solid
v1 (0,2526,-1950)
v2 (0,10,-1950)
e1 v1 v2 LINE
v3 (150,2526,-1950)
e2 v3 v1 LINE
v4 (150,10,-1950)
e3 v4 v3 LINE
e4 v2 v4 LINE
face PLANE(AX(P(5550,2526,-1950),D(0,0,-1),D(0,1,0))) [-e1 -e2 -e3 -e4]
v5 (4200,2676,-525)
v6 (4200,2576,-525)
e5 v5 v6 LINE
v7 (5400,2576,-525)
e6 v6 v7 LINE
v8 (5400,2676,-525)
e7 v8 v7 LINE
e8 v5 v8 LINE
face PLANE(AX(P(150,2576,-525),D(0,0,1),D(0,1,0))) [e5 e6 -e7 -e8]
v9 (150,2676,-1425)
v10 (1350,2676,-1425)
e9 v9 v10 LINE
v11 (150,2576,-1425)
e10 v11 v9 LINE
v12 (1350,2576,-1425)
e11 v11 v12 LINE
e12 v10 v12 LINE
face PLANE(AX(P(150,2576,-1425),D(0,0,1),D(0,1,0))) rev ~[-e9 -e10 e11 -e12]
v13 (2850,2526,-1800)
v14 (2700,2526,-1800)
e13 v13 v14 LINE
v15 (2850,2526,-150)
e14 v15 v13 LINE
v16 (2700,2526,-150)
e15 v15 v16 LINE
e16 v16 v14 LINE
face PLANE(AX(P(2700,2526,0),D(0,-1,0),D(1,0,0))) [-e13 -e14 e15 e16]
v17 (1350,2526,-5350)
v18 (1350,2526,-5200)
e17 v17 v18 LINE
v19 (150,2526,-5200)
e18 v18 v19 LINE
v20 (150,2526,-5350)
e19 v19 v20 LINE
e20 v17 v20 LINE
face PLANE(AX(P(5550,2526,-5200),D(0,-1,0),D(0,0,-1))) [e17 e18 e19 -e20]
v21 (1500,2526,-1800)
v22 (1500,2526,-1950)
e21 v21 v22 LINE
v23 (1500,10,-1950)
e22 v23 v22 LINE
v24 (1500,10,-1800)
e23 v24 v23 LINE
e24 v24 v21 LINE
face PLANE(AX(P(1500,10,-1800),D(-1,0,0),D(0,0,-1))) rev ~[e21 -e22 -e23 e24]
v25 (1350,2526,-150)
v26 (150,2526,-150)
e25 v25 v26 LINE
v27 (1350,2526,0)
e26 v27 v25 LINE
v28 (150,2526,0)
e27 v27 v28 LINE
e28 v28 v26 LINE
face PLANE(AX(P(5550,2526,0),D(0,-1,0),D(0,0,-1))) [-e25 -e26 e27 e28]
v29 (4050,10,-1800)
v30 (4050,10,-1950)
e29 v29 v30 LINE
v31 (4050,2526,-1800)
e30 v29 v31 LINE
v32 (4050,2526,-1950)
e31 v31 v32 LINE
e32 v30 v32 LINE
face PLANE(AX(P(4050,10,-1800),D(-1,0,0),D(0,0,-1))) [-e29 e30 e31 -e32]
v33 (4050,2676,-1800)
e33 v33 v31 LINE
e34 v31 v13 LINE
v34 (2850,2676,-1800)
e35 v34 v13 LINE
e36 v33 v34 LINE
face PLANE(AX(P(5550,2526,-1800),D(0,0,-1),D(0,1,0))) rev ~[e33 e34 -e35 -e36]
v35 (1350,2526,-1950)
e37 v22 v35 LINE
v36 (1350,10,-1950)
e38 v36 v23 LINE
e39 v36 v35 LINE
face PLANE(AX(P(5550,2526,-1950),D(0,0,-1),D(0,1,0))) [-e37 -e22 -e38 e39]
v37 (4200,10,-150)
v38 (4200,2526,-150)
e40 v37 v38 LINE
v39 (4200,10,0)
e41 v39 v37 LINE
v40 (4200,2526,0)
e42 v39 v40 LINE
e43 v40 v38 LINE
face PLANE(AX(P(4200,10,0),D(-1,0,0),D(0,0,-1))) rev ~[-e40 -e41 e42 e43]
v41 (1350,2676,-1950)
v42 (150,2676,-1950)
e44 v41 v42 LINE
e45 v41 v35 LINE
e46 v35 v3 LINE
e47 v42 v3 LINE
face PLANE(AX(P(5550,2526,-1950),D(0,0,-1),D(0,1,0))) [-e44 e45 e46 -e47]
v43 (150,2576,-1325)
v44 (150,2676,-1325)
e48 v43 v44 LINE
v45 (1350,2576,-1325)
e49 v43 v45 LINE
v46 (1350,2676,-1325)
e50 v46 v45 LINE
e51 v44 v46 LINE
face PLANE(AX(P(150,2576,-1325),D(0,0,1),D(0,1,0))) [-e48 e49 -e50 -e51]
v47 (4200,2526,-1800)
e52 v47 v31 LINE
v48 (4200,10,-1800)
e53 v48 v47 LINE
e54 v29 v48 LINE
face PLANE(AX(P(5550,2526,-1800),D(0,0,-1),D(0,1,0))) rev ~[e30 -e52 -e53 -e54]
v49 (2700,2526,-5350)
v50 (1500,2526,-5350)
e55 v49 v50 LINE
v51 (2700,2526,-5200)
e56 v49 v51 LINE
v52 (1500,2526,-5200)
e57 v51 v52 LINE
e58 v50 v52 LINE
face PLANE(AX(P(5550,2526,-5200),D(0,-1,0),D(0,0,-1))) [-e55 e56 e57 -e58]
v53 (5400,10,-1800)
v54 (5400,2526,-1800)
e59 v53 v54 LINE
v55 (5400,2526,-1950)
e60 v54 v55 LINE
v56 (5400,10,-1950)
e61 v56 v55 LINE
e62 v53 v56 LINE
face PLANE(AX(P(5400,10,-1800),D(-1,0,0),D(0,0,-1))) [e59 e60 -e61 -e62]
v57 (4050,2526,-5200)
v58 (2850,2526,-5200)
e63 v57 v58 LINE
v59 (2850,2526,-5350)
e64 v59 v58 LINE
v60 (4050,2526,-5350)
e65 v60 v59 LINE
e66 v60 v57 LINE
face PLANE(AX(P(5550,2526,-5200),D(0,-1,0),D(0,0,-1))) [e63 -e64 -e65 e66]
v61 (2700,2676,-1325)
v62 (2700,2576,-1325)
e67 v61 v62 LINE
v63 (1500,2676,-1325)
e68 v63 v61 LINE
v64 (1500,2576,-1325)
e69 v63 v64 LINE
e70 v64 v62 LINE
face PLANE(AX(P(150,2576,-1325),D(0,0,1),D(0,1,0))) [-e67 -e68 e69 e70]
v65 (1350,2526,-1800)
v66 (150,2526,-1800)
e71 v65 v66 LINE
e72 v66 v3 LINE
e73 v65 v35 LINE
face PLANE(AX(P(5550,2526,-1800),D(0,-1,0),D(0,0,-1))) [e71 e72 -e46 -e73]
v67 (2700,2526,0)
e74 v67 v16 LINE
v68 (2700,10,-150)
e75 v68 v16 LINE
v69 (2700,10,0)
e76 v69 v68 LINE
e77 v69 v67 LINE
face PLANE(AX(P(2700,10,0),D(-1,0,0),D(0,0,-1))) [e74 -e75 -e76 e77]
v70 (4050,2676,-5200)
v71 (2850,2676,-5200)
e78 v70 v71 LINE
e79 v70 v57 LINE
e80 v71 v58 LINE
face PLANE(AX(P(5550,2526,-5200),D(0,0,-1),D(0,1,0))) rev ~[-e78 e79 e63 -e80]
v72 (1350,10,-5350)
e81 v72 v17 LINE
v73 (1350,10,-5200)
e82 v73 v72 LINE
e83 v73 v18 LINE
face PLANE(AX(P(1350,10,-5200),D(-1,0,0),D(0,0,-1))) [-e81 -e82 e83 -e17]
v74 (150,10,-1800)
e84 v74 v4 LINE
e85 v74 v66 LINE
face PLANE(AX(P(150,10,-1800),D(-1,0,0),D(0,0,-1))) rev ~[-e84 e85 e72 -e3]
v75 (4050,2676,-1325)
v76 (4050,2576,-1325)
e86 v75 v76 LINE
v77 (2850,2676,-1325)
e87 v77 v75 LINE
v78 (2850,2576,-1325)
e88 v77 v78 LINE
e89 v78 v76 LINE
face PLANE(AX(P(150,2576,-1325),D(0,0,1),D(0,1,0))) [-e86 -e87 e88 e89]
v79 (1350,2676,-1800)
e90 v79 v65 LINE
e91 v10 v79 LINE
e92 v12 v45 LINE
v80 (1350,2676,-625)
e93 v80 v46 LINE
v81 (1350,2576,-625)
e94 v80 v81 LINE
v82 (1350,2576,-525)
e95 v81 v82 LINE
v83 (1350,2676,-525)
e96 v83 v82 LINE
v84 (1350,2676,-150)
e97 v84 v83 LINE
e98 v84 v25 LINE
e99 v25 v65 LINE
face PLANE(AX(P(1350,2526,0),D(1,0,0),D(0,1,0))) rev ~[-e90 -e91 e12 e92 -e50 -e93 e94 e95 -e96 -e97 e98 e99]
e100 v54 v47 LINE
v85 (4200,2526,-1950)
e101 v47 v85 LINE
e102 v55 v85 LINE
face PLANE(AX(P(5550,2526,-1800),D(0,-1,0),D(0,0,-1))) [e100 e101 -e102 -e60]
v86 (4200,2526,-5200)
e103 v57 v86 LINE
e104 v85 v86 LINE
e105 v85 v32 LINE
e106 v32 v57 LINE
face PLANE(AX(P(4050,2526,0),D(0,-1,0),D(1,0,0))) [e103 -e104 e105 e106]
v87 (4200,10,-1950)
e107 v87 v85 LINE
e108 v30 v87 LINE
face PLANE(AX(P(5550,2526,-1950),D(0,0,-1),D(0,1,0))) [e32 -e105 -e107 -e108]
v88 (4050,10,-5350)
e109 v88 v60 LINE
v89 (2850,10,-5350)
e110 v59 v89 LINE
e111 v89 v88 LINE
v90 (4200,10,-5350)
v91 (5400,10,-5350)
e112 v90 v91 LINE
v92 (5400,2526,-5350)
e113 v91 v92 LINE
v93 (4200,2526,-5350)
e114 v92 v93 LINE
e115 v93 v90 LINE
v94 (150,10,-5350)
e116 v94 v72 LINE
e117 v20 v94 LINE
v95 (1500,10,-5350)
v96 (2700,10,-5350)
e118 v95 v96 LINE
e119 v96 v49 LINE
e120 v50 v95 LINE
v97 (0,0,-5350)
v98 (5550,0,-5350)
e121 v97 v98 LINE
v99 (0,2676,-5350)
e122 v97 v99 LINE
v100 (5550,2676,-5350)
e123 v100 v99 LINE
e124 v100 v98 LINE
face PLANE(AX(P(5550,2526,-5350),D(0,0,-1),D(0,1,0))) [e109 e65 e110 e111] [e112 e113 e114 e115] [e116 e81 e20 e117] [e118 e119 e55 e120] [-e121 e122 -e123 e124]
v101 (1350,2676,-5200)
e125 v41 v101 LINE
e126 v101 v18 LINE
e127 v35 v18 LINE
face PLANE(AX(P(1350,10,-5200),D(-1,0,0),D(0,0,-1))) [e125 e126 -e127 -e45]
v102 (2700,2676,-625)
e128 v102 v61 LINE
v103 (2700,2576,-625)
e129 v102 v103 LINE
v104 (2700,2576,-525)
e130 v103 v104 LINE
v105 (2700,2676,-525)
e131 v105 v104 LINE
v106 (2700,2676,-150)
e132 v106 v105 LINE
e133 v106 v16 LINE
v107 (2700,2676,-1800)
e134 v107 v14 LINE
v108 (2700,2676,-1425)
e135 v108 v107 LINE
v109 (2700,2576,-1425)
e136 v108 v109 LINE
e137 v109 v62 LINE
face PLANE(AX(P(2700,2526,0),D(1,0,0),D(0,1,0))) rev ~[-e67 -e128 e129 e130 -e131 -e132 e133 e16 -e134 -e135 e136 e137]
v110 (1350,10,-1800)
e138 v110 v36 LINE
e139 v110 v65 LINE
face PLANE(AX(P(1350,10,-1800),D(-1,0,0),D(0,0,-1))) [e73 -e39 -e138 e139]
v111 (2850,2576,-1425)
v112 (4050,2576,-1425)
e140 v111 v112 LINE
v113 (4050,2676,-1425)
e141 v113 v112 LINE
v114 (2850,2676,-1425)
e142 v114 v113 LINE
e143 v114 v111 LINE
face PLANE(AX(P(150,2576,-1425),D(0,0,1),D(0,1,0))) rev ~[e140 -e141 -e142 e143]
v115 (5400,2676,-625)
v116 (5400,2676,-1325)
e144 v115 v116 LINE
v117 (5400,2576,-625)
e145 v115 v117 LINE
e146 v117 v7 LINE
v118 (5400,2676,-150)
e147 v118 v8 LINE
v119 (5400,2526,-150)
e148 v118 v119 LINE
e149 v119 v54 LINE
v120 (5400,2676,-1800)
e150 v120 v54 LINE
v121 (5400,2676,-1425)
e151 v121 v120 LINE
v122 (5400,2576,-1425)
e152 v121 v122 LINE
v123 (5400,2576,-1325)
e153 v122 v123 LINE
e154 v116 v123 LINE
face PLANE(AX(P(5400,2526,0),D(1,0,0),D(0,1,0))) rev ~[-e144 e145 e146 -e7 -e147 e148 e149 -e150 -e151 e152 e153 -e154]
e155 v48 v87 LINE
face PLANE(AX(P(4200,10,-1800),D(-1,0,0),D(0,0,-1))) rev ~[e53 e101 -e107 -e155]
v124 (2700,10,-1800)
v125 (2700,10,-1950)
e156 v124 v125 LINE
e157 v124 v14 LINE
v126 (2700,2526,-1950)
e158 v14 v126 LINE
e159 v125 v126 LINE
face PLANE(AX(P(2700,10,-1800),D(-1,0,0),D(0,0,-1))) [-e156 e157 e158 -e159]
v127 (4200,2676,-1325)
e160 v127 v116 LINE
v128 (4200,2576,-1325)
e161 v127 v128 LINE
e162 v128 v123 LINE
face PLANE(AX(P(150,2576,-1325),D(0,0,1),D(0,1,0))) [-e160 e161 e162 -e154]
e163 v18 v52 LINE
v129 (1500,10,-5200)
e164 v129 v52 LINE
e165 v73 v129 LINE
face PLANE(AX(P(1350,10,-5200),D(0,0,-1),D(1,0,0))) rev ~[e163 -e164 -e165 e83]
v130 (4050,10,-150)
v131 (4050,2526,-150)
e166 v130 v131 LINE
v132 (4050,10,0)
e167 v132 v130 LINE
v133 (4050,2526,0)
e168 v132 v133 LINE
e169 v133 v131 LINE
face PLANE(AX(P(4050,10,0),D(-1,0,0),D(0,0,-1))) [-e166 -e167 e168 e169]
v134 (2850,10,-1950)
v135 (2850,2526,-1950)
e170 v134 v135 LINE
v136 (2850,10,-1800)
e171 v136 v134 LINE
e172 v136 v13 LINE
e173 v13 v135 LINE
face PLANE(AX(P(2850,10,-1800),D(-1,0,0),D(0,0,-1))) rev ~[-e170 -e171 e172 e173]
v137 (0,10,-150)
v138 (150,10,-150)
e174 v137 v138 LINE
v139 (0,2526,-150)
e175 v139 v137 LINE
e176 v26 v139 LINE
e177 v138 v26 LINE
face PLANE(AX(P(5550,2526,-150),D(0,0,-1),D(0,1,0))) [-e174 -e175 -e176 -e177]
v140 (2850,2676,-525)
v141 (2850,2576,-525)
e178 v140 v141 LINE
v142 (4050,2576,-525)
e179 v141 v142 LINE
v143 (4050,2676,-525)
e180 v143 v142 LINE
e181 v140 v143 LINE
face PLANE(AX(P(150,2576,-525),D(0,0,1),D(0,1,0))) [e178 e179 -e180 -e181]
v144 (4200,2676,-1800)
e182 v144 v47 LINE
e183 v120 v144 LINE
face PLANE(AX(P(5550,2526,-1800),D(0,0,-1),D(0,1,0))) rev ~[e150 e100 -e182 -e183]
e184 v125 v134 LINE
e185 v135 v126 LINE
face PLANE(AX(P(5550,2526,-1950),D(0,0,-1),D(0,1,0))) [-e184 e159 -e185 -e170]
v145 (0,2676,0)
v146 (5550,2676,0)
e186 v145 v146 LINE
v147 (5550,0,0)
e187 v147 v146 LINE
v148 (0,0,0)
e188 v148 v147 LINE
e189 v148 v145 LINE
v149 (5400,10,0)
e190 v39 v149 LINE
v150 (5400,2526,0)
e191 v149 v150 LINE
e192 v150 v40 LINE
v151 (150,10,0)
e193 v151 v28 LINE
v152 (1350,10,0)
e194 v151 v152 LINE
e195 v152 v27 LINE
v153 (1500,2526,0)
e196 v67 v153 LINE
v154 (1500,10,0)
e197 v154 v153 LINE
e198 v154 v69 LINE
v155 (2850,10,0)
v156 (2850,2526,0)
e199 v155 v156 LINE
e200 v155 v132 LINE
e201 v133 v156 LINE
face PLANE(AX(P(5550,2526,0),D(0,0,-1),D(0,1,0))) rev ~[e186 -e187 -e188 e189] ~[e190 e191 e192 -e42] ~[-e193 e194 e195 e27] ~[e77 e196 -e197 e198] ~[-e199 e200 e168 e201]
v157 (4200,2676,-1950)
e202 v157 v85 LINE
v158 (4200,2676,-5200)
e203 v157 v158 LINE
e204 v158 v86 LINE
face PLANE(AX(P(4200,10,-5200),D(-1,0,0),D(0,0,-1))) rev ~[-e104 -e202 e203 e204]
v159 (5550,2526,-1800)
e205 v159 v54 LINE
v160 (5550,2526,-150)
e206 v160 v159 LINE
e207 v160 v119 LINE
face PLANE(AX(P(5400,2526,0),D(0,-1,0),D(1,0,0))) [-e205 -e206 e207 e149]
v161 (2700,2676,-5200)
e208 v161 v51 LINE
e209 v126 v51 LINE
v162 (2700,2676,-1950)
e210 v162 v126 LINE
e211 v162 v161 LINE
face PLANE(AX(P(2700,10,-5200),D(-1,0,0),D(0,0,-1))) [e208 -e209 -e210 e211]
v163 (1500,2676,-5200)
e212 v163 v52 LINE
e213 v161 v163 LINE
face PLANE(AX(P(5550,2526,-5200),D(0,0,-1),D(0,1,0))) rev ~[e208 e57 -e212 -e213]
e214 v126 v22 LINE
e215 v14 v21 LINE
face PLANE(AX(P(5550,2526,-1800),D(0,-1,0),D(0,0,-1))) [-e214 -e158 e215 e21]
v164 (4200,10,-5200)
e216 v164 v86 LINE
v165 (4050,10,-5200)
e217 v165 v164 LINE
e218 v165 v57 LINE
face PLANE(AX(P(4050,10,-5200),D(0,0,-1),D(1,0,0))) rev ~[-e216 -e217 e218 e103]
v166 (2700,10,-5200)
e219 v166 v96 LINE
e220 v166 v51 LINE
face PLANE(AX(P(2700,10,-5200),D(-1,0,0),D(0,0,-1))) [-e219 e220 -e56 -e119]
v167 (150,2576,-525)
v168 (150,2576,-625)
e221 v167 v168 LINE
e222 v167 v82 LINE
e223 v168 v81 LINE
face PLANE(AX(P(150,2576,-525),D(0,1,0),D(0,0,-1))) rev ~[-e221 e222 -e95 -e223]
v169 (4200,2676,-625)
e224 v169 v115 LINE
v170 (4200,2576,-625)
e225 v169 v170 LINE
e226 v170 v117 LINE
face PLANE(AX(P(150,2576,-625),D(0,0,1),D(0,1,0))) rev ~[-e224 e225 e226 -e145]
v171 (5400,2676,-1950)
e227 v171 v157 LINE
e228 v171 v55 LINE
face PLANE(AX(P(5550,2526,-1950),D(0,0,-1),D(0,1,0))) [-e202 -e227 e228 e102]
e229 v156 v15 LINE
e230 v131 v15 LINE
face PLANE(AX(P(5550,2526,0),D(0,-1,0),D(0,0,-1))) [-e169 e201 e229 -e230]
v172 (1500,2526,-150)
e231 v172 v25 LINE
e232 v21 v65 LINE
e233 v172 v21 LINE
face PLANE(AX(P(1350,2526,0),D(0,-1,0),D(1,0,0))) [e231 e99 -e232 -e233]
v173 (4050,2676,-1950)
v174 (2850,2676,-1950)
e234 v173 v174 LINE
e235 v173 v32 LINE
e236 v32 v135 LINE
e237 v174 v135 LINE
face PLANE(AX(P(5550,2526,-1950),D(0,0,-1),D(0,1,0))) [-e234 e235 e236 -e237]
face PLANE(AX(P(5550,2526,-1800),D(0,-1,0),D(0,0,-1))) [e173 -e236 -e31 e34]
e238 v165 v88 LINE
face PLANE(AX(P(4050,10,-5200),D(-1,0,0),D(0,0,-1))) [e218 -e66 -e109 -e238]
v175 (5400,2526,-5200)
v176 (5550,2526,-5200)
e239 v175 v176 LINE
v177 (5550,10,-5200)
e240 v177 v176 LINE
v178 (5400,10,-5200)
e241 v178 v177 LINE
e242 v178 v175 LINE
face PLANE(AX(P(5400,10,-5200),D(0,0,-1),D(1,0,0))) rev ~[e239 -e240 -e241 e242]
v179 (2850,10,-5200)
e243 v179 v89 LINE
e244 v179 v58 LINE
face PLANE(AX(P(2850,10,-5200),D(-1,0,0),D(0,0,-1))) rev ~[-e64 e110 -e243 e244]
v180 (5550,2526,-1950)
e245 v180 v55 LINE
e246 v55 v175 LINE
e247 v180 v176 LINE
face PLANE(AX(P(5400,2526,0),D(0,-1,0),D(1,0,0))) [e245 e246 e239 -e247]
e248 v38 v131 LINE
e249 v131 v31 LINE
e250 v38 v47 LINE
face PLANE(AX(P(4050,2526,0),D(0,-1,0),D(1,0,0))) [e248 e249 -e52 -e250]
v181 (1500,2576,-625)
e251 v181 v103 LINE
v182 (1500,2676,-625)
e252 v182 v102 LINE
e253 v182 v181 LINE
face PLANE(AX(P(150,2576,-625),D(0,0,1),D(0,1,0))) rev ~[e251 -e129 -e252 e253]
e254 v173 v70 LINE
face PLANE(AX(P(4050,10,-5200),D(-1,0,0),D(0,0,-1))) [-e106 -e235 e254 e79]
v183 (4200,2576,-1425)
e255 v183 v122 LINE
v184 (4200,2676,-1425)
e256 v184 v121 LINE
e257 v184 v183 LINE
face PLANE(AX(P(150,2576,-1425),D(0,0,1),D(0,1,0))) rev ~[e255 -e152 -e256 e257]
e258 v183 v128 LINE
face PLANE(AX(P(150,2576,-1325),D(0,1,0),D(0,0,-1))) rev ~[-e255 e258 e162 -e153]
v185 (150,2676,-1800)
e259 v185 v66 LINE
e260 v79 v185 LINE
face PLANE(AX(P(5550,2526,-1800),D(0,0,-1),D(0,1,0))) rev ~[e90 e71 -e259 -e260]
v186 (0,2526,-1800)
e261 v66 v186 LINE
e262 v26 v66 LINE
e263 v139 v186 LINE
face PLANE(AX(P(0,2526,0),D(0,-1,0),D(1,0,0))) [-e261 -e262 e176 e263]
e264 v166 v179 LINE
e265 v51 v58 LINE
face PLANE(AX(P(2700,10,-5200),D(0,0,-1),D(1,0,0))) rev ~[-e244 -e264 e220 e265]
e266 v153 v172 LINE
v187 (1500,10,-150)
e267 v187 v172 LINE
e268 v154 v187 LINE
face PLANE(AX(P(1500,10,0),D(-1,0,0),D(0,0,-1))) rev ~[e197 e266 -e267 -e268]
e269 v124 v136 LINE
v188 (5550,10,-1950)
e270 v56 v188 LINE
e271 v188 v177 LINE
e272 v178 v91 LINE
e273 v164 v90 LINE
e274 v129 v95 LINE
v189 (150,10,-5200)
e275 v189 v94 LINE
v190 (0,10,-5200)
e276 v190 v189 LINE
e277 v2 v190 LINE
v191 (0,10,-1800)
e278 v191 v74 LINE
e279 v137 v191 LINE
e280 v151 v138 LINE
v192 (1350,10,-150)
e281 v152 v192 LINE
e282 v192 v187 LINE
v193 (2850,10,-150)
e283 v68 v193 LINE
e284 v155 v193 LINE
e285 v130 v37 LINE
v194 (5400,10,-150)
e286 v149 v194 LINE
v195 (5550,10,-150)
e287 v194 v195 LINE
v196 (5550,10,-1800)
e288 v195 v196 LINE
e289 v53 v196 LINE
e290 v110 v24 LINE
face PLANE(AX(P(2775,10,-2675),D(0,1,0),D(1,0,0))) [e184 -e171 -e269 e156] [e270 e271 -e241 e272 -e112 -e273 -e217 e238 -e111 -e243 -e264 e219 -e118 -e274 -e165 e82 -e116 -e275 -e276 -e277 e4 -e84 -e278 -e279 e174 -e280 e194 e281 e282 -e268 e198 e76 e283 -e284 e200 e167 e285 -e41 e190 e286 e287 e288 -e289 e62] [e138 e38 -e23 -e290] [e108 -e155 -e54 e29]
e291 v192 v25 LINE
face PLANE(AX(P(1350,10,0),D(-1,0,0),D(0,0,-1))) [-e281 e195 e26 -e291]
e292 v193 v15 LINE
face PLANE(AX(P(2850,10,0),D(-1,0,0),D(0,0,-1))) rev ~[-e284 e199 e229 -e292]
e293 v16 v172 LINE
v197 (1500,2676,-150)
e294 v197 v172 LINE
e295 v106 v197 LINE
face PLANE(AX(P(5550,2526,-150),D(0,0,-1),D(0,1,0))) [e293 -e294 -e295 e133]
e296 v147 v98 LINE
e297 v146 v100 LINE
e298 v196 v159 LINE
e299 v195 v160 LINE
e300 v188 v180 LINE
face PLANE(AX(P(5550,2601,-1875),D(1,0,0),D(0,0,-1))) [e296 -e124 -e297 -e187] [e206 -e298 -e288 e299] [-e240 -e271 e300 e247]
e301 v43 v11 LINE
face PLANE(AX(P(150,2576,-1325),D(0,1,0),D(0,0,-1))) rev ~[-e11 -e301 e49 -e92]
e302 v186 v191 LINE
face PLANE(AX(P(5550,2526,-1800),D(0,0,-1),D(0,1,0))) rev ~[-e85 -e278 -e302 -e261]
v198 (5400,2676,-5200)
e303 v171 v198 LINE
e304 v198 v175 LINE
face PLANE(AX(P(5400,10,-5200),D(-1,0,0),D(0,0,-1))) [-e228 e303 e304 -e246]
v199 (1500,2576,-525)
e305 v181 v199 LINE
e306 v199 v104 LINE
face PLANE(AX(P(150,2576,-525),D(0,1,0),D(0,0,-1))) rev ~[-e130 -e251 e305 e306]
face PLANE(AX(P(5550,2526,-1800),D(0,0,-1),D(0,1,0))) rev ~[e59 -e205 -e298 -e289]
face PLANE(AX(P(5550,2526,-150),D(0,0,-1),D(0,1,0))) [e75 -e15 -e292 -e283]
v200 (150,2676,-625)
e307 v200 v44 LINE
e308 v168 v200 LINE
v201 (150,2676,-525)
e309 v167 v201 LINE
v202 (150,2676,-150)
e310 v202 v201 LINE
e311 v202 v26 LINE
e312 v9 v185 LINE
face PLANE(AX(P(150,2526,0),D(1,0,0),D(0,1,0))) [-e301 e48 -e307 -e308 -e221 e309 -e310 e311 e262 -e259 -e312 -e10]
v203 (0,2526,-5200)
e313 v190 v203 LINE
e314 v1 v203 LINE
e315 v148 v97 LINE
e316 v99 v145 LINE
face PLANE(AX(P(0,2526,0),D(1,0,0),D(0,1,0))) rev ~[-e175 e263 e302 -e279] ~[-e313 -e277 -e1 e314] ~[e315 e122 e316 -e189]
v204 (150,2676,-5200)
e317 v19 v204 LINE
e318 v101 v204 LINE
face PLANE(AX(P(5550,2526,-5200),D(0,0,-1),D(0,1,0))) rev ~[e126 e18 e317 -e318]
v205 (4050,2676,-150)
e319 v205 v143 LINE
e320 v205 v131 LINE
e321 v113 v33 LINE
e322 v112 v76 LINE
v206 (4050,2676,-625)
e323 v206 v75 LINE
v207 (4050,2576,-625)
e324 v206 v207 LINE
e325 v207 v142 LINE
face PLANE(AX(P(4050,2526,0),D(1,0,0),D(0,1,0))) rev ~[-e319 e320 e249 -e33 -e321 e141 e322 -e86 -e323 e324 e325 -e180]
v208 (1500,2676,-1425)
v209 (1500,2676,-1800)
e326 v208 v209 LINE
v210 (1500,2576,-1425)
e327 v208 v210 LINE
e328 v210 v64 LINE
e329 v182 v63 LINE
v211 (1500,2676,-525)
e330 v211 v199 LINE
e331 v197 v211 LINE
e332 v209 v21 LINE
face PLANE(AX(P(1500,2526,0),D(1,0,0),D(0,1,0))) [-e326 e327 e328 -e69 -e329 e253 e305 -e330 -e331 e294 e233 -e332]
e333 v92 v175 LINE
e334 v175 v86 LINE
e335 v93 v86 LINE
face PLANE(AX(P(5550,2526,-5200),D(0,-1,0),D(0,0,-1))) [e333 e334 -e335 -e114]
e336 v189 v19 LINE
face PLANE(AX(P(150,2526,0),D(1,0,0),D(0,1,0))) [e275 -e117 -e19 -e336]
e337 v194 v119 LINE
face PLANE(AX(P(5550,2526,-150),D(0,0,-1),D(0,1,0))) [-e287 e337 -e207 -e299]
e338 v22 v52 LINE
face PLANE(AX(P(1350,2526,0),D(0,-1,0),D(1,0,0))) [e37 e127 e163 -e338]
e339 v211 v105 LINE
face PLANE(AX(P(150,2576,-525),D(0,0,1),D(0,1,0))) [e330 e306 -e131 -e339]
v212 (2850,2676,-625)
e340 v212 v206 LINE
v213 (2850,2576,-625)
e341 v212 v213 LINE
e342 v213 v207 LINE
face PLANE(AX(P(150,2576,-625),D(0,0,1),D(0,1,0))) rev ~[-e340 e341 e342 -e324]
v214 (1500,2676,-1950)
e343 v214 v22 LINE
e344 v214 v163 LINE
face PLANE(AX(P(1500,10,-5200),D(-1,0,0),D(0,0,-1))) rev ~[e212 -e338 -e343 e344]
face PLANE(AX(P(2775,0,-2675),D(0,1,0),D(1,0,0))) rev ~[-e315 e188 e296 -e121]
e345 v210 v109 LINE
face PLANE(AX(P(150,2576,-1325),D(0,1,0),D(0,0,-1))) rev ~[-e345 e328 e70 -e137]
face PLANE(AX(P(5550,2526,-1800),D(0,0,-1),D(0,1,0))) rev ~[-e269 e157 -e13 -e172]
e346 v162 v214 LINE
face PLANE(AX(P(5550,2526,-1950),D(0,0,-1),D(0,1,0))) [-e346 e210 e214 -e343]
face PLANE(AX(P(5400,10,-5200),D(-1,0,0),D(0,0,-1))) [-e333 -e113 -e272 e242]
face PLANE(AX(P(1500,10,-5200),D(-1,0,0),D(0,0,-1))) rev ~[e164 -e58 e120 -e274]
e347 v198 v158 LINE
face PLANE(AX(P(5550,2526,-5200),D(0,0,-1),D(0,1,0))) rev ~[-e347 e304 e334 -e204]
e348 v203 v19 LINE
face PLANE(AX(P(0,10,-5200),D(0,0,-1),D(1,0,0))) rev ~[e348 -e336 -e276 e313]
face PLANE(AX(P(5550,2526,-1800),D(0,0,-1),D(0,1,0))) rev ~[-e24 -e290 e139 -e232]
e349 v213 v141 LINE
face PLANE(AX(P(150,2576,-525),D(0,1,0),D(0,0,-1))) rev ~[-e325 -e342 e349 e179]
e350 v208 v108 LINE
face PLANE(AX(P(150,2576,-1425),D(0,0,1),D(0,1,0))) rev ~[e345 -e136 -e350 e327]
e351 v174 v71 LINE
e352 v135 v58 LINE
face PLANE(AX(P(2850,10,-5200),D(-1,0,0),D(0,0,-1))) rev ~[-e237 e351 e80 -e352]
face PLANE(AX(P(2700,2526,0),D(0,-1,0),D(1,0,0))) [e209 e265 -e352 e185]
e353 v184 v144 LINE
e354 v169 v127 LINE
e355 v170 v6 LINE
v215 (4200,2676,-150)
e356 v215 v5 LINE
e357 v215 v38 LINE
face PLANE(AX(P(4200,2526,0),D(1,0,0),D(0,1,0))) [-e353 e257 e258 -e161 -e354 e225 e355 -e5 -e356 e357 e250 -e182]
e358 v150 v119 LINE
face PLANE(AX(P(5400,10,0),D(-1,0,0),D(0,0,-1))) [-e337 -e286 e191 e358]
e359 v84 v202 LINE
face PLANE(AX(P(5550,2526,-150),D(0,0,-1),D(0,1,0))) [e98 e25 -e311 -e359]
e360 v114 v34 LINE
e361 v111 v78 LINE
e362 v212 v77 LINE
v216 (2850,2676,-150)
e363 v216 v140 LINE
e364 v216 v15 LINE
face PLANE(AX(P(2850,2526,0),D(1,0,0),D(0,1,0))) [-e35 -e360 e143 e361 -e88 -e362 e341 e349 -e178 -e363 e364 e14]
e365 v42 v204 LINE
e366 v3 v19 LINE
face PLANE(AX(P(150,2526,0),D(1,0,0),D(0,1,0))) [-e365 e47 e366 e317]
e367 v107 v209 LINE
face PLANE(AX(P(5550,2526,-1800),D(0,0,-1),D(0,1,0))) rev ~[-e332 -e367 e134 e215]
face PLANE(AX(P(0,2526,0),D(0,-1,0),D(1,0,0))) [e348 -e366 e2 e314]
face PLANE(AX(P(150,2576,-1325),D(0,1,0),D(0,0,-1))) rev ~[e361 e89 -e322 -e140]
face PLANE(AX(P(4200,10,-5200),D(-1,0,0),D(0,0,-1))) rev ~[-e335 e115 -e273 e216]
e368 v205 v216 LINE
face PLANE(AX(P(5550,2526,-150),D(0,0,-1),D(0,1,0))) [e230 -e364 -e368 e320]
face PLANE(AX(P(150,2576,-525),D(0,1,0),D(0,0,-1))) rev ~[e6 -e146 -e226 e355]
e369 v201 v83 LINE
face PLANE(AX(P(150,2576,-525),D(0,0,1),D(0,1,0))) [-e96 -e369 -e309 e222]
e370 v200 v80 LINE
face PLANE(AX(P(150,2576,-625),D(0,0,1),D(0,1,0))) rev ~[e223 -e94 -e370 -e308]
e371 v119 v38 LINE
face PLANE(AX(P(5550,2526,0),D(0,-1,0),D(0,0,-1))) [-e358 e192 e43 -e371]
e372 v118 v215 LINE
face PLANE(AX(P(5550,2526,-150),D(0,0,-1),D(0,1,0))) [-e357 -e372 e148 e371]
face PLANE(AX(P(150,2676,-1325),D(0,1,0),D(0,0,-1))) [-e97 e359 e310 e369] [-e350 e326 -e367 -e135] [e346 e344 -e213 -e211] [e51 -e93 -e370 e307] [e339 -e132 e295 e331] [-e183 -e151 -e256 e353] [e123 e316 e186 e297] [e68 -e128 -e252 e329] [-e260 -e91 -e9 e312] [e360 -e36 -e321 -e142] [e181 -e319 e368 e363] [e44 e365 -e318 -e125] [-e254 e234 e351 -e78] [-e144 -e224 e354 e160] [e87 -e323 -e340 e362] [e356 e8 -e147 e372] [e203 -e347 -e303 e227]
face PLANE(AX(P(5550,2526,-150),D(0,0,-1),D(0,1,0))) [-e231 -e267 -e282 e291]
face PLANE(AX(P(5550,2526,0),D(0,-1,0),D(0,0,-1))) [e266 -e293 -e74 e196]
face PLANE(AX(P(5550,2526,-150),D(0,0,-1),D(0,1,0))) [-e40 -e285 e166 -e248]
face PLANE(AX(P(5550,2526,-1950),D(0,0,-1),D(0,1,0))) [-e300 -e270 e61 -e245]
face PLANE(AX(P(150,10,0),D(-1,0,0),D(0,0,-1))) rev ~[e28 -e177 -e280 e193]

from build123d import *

# Parameters (mm, degrees)
SKETCH_1_W                  = 5550
SKETCH_1_H                  = 5350
EXTRUDE_1_DEPTH             = 10
SKETCH_2_W                  = 150
SKETCH_2_H                  = 150
EXTRUDE_2_DEPTH             = 2516
PATTERN_LINEAR_1_COUNT      = 5
PATTERN_LINEAR_1_PITCH      = 1350
PATTERN_LINEAR_1_COUNT_DIR2 = 2
PATTERN_LINEAR_1_PITCH_DIR2 = 1800
SKETCH_3_W                  = 150
SKETCH_3_H                  = 150
EXTRUDE_3_DEPTH             = 2516
PATTERN_LINEAR_2_COUNT      = 5
PATTERN_LINEAR_2_PITCH      = 1350
SKETCH_4_W                  = 150
SKETCH_4_H                  = 150
EXTRUDE_4_DEPTH             = 5550
PATTERN_LINEAR_3_COUNT      = 2
PATTERN_LINEAR_3_PITCH      = 1800
SKETCH_5_W                  = 150
SKETCH_5_H                  = 150
EXTRUDE_5_DEPTH             = 5350
PATTERN_LINEAR_4_COUNT      = 5
PATTERN_LINEAR_4_PITCH      = 1350
PATTERN_LINEAR_5_COUNT      = 2
PATTERN_LINEAR_5_PITCH      = 5200
EXTRUDE_6_REACH             = 8060.752
SKETCH_6_W                  = 100
SKETCH_6_H                  = 100
PATTERN_LINEAR_6_COUNT      = 2
PATTERN_LINEAR_6_PITCH      = 800


with BuildPart() as part:
    # 草图1 → 凸台-拉伸1 (new body)
    with BuildSketch(Plane(origin=(0, 0, 0), x_dir=(1, 0, 0), z_dir=(0, 1, 0))):
        with Locations((2775, 2675)):
            Rectangle(SKETCH_1_W, SKETCH_1_H)
    extrude(amount=EXTRUDE_1_DEPTH)

    # 草图2 → 凸台-拉伸2 (add)
    with BuildSketch(Plane(origin=(0, 10, 0), x_dir=(1, 0, 0), z_dir=(0, 1, 0))):
        with Locations((75, 75)):
            Rectangle(SKETCH_2_W, SKETCH_2_H)
    extrude_2 = extrude(amount=EXTRUDE_2_DEPTH)

    # 阵列(线性)1: Extrude 2 5 × 2
    with Locations(*[(i * PATTERN_LINEAR_1_PITCH, 0, -j * PATTERN_LINEAR_1_PITCH_DIR2) for i in range(PATTERN_LINEAR_1_COUNT) for j in range(PATTERN_LINEAR_1_COUNT_DIR2) if (i, j) != (0, 0)]):
        add(extrude_2)

    # 草图3 → 凸台-拉伸3 (add)
    with BuildSketch(Plane(origin=(0, 10, 0), x_dir=(1, 0, 0), z_dir=(0, 1, 0))):
        with Locations((75, 5275)):
            Rectangle(SKETCH_3_W, SKETCH_3_H)
    extrude_3 = extrude(amount=EXTRUDE_3_DEPTH)

    # 阵列(线性)2: 凸台-拉伸3 ×5
    with Locations(*[(i * PATTERN_LINEAR_2_PITCH, 0, 0) for i in range(1, PATTERN_LINEAR_2_COUNT)]):
        add(extrude_3)

    # 草图4 → 凸台-拉伸4 (add)
    with BuildSketch(Plane(origin=(5550, 0, 0), x_dir=(0, 0, -1), z_dir=(1, 0, 0))):
        with Locations((75, 2601)):
            Rectangle(SKETCH_4_W, SKETCH_4_H)
    extrude_4 = extrude(amount=-EXTRUDE_4_DEPTH)

    # 阵列(线性)3: 凸台-拉伸4 ×2
    with Locations(*[(0, 0, -i * PATTERN_LINEAR_3_PITCH) for i in range(1, PATTERN_LINEAR_3_COUNT)]):
        add(extrude_4)

    # 草图5 → 凸台-拉伸5 (add)
    with BuildSketch(Plane.XY):
        with Locations((75, 2601)):
            Rectangle(SKETCH_5_W, SKETCH_5_H)
    extrude_5 = extrude(amount=-EXTRUDE_5_DEPTH)

    # 阵列(线性)4: 凸台-拉伸5 ×5
    with Locations(*[(i * PATTERN_LINEAR_4_PITCH, 0, 0) for i in range(1, PATTERN_LINEAR_4_COUNT)]):
        add(extrude_5)

    # 阵列(线性)5: 凸台-拉伸4 ×2
    with Locations(*[(0, 0, -i * PATTERN_LINEAR_5_PITCH) for i in range(1, PATTERN_LINEAR_5_COUNT)]):
        add(extrude_4)

    # 凸台-拉伸6: up to this face of the body (flat: up to its plane)
    extrude_6_end = Plane(part.part.faces().sort_by_distance((5400, 2601, -975))[0])
    # 草图6 → 凸台-拉伸6 (add, up to the picked face)
    with BuildSketch(Plane(origin=(150, 0, 0), x_dir=(0, 0, -1), z_dir=(1, 0, 0)), mode=Mode.PRIVATE) as extrude_6_sk1:
        with Locations((575, 2626)):
            Rectangle(SKETCH_6_W, SKETCH_6_H)
    extrude_6_tool1 = split(extrude(extrude_6_sk1.sketch, amount=EXTRUDE_6_REACH, mode=Mode.PRIVATE), bisect_by=extrude_6_end, keep=Keep.BOTH, mode=Mode.PRIVATE)
    extrude_6 = extrude_6_tool1.solids().sort_by(Axis((150, 2626, -575), (1, 0, 0)))[0]
    add(extrude_6)

    # 阵列(线性)6: 凸台-拉伸6 ×2
    with Locations(*[(0, 0, -i * PATTERN_LINEAR_6_PITCH) for i in range(1, PATTERN_LINEAR_6_COUNT)]):
        add(extrude_6)


solid = part.part
